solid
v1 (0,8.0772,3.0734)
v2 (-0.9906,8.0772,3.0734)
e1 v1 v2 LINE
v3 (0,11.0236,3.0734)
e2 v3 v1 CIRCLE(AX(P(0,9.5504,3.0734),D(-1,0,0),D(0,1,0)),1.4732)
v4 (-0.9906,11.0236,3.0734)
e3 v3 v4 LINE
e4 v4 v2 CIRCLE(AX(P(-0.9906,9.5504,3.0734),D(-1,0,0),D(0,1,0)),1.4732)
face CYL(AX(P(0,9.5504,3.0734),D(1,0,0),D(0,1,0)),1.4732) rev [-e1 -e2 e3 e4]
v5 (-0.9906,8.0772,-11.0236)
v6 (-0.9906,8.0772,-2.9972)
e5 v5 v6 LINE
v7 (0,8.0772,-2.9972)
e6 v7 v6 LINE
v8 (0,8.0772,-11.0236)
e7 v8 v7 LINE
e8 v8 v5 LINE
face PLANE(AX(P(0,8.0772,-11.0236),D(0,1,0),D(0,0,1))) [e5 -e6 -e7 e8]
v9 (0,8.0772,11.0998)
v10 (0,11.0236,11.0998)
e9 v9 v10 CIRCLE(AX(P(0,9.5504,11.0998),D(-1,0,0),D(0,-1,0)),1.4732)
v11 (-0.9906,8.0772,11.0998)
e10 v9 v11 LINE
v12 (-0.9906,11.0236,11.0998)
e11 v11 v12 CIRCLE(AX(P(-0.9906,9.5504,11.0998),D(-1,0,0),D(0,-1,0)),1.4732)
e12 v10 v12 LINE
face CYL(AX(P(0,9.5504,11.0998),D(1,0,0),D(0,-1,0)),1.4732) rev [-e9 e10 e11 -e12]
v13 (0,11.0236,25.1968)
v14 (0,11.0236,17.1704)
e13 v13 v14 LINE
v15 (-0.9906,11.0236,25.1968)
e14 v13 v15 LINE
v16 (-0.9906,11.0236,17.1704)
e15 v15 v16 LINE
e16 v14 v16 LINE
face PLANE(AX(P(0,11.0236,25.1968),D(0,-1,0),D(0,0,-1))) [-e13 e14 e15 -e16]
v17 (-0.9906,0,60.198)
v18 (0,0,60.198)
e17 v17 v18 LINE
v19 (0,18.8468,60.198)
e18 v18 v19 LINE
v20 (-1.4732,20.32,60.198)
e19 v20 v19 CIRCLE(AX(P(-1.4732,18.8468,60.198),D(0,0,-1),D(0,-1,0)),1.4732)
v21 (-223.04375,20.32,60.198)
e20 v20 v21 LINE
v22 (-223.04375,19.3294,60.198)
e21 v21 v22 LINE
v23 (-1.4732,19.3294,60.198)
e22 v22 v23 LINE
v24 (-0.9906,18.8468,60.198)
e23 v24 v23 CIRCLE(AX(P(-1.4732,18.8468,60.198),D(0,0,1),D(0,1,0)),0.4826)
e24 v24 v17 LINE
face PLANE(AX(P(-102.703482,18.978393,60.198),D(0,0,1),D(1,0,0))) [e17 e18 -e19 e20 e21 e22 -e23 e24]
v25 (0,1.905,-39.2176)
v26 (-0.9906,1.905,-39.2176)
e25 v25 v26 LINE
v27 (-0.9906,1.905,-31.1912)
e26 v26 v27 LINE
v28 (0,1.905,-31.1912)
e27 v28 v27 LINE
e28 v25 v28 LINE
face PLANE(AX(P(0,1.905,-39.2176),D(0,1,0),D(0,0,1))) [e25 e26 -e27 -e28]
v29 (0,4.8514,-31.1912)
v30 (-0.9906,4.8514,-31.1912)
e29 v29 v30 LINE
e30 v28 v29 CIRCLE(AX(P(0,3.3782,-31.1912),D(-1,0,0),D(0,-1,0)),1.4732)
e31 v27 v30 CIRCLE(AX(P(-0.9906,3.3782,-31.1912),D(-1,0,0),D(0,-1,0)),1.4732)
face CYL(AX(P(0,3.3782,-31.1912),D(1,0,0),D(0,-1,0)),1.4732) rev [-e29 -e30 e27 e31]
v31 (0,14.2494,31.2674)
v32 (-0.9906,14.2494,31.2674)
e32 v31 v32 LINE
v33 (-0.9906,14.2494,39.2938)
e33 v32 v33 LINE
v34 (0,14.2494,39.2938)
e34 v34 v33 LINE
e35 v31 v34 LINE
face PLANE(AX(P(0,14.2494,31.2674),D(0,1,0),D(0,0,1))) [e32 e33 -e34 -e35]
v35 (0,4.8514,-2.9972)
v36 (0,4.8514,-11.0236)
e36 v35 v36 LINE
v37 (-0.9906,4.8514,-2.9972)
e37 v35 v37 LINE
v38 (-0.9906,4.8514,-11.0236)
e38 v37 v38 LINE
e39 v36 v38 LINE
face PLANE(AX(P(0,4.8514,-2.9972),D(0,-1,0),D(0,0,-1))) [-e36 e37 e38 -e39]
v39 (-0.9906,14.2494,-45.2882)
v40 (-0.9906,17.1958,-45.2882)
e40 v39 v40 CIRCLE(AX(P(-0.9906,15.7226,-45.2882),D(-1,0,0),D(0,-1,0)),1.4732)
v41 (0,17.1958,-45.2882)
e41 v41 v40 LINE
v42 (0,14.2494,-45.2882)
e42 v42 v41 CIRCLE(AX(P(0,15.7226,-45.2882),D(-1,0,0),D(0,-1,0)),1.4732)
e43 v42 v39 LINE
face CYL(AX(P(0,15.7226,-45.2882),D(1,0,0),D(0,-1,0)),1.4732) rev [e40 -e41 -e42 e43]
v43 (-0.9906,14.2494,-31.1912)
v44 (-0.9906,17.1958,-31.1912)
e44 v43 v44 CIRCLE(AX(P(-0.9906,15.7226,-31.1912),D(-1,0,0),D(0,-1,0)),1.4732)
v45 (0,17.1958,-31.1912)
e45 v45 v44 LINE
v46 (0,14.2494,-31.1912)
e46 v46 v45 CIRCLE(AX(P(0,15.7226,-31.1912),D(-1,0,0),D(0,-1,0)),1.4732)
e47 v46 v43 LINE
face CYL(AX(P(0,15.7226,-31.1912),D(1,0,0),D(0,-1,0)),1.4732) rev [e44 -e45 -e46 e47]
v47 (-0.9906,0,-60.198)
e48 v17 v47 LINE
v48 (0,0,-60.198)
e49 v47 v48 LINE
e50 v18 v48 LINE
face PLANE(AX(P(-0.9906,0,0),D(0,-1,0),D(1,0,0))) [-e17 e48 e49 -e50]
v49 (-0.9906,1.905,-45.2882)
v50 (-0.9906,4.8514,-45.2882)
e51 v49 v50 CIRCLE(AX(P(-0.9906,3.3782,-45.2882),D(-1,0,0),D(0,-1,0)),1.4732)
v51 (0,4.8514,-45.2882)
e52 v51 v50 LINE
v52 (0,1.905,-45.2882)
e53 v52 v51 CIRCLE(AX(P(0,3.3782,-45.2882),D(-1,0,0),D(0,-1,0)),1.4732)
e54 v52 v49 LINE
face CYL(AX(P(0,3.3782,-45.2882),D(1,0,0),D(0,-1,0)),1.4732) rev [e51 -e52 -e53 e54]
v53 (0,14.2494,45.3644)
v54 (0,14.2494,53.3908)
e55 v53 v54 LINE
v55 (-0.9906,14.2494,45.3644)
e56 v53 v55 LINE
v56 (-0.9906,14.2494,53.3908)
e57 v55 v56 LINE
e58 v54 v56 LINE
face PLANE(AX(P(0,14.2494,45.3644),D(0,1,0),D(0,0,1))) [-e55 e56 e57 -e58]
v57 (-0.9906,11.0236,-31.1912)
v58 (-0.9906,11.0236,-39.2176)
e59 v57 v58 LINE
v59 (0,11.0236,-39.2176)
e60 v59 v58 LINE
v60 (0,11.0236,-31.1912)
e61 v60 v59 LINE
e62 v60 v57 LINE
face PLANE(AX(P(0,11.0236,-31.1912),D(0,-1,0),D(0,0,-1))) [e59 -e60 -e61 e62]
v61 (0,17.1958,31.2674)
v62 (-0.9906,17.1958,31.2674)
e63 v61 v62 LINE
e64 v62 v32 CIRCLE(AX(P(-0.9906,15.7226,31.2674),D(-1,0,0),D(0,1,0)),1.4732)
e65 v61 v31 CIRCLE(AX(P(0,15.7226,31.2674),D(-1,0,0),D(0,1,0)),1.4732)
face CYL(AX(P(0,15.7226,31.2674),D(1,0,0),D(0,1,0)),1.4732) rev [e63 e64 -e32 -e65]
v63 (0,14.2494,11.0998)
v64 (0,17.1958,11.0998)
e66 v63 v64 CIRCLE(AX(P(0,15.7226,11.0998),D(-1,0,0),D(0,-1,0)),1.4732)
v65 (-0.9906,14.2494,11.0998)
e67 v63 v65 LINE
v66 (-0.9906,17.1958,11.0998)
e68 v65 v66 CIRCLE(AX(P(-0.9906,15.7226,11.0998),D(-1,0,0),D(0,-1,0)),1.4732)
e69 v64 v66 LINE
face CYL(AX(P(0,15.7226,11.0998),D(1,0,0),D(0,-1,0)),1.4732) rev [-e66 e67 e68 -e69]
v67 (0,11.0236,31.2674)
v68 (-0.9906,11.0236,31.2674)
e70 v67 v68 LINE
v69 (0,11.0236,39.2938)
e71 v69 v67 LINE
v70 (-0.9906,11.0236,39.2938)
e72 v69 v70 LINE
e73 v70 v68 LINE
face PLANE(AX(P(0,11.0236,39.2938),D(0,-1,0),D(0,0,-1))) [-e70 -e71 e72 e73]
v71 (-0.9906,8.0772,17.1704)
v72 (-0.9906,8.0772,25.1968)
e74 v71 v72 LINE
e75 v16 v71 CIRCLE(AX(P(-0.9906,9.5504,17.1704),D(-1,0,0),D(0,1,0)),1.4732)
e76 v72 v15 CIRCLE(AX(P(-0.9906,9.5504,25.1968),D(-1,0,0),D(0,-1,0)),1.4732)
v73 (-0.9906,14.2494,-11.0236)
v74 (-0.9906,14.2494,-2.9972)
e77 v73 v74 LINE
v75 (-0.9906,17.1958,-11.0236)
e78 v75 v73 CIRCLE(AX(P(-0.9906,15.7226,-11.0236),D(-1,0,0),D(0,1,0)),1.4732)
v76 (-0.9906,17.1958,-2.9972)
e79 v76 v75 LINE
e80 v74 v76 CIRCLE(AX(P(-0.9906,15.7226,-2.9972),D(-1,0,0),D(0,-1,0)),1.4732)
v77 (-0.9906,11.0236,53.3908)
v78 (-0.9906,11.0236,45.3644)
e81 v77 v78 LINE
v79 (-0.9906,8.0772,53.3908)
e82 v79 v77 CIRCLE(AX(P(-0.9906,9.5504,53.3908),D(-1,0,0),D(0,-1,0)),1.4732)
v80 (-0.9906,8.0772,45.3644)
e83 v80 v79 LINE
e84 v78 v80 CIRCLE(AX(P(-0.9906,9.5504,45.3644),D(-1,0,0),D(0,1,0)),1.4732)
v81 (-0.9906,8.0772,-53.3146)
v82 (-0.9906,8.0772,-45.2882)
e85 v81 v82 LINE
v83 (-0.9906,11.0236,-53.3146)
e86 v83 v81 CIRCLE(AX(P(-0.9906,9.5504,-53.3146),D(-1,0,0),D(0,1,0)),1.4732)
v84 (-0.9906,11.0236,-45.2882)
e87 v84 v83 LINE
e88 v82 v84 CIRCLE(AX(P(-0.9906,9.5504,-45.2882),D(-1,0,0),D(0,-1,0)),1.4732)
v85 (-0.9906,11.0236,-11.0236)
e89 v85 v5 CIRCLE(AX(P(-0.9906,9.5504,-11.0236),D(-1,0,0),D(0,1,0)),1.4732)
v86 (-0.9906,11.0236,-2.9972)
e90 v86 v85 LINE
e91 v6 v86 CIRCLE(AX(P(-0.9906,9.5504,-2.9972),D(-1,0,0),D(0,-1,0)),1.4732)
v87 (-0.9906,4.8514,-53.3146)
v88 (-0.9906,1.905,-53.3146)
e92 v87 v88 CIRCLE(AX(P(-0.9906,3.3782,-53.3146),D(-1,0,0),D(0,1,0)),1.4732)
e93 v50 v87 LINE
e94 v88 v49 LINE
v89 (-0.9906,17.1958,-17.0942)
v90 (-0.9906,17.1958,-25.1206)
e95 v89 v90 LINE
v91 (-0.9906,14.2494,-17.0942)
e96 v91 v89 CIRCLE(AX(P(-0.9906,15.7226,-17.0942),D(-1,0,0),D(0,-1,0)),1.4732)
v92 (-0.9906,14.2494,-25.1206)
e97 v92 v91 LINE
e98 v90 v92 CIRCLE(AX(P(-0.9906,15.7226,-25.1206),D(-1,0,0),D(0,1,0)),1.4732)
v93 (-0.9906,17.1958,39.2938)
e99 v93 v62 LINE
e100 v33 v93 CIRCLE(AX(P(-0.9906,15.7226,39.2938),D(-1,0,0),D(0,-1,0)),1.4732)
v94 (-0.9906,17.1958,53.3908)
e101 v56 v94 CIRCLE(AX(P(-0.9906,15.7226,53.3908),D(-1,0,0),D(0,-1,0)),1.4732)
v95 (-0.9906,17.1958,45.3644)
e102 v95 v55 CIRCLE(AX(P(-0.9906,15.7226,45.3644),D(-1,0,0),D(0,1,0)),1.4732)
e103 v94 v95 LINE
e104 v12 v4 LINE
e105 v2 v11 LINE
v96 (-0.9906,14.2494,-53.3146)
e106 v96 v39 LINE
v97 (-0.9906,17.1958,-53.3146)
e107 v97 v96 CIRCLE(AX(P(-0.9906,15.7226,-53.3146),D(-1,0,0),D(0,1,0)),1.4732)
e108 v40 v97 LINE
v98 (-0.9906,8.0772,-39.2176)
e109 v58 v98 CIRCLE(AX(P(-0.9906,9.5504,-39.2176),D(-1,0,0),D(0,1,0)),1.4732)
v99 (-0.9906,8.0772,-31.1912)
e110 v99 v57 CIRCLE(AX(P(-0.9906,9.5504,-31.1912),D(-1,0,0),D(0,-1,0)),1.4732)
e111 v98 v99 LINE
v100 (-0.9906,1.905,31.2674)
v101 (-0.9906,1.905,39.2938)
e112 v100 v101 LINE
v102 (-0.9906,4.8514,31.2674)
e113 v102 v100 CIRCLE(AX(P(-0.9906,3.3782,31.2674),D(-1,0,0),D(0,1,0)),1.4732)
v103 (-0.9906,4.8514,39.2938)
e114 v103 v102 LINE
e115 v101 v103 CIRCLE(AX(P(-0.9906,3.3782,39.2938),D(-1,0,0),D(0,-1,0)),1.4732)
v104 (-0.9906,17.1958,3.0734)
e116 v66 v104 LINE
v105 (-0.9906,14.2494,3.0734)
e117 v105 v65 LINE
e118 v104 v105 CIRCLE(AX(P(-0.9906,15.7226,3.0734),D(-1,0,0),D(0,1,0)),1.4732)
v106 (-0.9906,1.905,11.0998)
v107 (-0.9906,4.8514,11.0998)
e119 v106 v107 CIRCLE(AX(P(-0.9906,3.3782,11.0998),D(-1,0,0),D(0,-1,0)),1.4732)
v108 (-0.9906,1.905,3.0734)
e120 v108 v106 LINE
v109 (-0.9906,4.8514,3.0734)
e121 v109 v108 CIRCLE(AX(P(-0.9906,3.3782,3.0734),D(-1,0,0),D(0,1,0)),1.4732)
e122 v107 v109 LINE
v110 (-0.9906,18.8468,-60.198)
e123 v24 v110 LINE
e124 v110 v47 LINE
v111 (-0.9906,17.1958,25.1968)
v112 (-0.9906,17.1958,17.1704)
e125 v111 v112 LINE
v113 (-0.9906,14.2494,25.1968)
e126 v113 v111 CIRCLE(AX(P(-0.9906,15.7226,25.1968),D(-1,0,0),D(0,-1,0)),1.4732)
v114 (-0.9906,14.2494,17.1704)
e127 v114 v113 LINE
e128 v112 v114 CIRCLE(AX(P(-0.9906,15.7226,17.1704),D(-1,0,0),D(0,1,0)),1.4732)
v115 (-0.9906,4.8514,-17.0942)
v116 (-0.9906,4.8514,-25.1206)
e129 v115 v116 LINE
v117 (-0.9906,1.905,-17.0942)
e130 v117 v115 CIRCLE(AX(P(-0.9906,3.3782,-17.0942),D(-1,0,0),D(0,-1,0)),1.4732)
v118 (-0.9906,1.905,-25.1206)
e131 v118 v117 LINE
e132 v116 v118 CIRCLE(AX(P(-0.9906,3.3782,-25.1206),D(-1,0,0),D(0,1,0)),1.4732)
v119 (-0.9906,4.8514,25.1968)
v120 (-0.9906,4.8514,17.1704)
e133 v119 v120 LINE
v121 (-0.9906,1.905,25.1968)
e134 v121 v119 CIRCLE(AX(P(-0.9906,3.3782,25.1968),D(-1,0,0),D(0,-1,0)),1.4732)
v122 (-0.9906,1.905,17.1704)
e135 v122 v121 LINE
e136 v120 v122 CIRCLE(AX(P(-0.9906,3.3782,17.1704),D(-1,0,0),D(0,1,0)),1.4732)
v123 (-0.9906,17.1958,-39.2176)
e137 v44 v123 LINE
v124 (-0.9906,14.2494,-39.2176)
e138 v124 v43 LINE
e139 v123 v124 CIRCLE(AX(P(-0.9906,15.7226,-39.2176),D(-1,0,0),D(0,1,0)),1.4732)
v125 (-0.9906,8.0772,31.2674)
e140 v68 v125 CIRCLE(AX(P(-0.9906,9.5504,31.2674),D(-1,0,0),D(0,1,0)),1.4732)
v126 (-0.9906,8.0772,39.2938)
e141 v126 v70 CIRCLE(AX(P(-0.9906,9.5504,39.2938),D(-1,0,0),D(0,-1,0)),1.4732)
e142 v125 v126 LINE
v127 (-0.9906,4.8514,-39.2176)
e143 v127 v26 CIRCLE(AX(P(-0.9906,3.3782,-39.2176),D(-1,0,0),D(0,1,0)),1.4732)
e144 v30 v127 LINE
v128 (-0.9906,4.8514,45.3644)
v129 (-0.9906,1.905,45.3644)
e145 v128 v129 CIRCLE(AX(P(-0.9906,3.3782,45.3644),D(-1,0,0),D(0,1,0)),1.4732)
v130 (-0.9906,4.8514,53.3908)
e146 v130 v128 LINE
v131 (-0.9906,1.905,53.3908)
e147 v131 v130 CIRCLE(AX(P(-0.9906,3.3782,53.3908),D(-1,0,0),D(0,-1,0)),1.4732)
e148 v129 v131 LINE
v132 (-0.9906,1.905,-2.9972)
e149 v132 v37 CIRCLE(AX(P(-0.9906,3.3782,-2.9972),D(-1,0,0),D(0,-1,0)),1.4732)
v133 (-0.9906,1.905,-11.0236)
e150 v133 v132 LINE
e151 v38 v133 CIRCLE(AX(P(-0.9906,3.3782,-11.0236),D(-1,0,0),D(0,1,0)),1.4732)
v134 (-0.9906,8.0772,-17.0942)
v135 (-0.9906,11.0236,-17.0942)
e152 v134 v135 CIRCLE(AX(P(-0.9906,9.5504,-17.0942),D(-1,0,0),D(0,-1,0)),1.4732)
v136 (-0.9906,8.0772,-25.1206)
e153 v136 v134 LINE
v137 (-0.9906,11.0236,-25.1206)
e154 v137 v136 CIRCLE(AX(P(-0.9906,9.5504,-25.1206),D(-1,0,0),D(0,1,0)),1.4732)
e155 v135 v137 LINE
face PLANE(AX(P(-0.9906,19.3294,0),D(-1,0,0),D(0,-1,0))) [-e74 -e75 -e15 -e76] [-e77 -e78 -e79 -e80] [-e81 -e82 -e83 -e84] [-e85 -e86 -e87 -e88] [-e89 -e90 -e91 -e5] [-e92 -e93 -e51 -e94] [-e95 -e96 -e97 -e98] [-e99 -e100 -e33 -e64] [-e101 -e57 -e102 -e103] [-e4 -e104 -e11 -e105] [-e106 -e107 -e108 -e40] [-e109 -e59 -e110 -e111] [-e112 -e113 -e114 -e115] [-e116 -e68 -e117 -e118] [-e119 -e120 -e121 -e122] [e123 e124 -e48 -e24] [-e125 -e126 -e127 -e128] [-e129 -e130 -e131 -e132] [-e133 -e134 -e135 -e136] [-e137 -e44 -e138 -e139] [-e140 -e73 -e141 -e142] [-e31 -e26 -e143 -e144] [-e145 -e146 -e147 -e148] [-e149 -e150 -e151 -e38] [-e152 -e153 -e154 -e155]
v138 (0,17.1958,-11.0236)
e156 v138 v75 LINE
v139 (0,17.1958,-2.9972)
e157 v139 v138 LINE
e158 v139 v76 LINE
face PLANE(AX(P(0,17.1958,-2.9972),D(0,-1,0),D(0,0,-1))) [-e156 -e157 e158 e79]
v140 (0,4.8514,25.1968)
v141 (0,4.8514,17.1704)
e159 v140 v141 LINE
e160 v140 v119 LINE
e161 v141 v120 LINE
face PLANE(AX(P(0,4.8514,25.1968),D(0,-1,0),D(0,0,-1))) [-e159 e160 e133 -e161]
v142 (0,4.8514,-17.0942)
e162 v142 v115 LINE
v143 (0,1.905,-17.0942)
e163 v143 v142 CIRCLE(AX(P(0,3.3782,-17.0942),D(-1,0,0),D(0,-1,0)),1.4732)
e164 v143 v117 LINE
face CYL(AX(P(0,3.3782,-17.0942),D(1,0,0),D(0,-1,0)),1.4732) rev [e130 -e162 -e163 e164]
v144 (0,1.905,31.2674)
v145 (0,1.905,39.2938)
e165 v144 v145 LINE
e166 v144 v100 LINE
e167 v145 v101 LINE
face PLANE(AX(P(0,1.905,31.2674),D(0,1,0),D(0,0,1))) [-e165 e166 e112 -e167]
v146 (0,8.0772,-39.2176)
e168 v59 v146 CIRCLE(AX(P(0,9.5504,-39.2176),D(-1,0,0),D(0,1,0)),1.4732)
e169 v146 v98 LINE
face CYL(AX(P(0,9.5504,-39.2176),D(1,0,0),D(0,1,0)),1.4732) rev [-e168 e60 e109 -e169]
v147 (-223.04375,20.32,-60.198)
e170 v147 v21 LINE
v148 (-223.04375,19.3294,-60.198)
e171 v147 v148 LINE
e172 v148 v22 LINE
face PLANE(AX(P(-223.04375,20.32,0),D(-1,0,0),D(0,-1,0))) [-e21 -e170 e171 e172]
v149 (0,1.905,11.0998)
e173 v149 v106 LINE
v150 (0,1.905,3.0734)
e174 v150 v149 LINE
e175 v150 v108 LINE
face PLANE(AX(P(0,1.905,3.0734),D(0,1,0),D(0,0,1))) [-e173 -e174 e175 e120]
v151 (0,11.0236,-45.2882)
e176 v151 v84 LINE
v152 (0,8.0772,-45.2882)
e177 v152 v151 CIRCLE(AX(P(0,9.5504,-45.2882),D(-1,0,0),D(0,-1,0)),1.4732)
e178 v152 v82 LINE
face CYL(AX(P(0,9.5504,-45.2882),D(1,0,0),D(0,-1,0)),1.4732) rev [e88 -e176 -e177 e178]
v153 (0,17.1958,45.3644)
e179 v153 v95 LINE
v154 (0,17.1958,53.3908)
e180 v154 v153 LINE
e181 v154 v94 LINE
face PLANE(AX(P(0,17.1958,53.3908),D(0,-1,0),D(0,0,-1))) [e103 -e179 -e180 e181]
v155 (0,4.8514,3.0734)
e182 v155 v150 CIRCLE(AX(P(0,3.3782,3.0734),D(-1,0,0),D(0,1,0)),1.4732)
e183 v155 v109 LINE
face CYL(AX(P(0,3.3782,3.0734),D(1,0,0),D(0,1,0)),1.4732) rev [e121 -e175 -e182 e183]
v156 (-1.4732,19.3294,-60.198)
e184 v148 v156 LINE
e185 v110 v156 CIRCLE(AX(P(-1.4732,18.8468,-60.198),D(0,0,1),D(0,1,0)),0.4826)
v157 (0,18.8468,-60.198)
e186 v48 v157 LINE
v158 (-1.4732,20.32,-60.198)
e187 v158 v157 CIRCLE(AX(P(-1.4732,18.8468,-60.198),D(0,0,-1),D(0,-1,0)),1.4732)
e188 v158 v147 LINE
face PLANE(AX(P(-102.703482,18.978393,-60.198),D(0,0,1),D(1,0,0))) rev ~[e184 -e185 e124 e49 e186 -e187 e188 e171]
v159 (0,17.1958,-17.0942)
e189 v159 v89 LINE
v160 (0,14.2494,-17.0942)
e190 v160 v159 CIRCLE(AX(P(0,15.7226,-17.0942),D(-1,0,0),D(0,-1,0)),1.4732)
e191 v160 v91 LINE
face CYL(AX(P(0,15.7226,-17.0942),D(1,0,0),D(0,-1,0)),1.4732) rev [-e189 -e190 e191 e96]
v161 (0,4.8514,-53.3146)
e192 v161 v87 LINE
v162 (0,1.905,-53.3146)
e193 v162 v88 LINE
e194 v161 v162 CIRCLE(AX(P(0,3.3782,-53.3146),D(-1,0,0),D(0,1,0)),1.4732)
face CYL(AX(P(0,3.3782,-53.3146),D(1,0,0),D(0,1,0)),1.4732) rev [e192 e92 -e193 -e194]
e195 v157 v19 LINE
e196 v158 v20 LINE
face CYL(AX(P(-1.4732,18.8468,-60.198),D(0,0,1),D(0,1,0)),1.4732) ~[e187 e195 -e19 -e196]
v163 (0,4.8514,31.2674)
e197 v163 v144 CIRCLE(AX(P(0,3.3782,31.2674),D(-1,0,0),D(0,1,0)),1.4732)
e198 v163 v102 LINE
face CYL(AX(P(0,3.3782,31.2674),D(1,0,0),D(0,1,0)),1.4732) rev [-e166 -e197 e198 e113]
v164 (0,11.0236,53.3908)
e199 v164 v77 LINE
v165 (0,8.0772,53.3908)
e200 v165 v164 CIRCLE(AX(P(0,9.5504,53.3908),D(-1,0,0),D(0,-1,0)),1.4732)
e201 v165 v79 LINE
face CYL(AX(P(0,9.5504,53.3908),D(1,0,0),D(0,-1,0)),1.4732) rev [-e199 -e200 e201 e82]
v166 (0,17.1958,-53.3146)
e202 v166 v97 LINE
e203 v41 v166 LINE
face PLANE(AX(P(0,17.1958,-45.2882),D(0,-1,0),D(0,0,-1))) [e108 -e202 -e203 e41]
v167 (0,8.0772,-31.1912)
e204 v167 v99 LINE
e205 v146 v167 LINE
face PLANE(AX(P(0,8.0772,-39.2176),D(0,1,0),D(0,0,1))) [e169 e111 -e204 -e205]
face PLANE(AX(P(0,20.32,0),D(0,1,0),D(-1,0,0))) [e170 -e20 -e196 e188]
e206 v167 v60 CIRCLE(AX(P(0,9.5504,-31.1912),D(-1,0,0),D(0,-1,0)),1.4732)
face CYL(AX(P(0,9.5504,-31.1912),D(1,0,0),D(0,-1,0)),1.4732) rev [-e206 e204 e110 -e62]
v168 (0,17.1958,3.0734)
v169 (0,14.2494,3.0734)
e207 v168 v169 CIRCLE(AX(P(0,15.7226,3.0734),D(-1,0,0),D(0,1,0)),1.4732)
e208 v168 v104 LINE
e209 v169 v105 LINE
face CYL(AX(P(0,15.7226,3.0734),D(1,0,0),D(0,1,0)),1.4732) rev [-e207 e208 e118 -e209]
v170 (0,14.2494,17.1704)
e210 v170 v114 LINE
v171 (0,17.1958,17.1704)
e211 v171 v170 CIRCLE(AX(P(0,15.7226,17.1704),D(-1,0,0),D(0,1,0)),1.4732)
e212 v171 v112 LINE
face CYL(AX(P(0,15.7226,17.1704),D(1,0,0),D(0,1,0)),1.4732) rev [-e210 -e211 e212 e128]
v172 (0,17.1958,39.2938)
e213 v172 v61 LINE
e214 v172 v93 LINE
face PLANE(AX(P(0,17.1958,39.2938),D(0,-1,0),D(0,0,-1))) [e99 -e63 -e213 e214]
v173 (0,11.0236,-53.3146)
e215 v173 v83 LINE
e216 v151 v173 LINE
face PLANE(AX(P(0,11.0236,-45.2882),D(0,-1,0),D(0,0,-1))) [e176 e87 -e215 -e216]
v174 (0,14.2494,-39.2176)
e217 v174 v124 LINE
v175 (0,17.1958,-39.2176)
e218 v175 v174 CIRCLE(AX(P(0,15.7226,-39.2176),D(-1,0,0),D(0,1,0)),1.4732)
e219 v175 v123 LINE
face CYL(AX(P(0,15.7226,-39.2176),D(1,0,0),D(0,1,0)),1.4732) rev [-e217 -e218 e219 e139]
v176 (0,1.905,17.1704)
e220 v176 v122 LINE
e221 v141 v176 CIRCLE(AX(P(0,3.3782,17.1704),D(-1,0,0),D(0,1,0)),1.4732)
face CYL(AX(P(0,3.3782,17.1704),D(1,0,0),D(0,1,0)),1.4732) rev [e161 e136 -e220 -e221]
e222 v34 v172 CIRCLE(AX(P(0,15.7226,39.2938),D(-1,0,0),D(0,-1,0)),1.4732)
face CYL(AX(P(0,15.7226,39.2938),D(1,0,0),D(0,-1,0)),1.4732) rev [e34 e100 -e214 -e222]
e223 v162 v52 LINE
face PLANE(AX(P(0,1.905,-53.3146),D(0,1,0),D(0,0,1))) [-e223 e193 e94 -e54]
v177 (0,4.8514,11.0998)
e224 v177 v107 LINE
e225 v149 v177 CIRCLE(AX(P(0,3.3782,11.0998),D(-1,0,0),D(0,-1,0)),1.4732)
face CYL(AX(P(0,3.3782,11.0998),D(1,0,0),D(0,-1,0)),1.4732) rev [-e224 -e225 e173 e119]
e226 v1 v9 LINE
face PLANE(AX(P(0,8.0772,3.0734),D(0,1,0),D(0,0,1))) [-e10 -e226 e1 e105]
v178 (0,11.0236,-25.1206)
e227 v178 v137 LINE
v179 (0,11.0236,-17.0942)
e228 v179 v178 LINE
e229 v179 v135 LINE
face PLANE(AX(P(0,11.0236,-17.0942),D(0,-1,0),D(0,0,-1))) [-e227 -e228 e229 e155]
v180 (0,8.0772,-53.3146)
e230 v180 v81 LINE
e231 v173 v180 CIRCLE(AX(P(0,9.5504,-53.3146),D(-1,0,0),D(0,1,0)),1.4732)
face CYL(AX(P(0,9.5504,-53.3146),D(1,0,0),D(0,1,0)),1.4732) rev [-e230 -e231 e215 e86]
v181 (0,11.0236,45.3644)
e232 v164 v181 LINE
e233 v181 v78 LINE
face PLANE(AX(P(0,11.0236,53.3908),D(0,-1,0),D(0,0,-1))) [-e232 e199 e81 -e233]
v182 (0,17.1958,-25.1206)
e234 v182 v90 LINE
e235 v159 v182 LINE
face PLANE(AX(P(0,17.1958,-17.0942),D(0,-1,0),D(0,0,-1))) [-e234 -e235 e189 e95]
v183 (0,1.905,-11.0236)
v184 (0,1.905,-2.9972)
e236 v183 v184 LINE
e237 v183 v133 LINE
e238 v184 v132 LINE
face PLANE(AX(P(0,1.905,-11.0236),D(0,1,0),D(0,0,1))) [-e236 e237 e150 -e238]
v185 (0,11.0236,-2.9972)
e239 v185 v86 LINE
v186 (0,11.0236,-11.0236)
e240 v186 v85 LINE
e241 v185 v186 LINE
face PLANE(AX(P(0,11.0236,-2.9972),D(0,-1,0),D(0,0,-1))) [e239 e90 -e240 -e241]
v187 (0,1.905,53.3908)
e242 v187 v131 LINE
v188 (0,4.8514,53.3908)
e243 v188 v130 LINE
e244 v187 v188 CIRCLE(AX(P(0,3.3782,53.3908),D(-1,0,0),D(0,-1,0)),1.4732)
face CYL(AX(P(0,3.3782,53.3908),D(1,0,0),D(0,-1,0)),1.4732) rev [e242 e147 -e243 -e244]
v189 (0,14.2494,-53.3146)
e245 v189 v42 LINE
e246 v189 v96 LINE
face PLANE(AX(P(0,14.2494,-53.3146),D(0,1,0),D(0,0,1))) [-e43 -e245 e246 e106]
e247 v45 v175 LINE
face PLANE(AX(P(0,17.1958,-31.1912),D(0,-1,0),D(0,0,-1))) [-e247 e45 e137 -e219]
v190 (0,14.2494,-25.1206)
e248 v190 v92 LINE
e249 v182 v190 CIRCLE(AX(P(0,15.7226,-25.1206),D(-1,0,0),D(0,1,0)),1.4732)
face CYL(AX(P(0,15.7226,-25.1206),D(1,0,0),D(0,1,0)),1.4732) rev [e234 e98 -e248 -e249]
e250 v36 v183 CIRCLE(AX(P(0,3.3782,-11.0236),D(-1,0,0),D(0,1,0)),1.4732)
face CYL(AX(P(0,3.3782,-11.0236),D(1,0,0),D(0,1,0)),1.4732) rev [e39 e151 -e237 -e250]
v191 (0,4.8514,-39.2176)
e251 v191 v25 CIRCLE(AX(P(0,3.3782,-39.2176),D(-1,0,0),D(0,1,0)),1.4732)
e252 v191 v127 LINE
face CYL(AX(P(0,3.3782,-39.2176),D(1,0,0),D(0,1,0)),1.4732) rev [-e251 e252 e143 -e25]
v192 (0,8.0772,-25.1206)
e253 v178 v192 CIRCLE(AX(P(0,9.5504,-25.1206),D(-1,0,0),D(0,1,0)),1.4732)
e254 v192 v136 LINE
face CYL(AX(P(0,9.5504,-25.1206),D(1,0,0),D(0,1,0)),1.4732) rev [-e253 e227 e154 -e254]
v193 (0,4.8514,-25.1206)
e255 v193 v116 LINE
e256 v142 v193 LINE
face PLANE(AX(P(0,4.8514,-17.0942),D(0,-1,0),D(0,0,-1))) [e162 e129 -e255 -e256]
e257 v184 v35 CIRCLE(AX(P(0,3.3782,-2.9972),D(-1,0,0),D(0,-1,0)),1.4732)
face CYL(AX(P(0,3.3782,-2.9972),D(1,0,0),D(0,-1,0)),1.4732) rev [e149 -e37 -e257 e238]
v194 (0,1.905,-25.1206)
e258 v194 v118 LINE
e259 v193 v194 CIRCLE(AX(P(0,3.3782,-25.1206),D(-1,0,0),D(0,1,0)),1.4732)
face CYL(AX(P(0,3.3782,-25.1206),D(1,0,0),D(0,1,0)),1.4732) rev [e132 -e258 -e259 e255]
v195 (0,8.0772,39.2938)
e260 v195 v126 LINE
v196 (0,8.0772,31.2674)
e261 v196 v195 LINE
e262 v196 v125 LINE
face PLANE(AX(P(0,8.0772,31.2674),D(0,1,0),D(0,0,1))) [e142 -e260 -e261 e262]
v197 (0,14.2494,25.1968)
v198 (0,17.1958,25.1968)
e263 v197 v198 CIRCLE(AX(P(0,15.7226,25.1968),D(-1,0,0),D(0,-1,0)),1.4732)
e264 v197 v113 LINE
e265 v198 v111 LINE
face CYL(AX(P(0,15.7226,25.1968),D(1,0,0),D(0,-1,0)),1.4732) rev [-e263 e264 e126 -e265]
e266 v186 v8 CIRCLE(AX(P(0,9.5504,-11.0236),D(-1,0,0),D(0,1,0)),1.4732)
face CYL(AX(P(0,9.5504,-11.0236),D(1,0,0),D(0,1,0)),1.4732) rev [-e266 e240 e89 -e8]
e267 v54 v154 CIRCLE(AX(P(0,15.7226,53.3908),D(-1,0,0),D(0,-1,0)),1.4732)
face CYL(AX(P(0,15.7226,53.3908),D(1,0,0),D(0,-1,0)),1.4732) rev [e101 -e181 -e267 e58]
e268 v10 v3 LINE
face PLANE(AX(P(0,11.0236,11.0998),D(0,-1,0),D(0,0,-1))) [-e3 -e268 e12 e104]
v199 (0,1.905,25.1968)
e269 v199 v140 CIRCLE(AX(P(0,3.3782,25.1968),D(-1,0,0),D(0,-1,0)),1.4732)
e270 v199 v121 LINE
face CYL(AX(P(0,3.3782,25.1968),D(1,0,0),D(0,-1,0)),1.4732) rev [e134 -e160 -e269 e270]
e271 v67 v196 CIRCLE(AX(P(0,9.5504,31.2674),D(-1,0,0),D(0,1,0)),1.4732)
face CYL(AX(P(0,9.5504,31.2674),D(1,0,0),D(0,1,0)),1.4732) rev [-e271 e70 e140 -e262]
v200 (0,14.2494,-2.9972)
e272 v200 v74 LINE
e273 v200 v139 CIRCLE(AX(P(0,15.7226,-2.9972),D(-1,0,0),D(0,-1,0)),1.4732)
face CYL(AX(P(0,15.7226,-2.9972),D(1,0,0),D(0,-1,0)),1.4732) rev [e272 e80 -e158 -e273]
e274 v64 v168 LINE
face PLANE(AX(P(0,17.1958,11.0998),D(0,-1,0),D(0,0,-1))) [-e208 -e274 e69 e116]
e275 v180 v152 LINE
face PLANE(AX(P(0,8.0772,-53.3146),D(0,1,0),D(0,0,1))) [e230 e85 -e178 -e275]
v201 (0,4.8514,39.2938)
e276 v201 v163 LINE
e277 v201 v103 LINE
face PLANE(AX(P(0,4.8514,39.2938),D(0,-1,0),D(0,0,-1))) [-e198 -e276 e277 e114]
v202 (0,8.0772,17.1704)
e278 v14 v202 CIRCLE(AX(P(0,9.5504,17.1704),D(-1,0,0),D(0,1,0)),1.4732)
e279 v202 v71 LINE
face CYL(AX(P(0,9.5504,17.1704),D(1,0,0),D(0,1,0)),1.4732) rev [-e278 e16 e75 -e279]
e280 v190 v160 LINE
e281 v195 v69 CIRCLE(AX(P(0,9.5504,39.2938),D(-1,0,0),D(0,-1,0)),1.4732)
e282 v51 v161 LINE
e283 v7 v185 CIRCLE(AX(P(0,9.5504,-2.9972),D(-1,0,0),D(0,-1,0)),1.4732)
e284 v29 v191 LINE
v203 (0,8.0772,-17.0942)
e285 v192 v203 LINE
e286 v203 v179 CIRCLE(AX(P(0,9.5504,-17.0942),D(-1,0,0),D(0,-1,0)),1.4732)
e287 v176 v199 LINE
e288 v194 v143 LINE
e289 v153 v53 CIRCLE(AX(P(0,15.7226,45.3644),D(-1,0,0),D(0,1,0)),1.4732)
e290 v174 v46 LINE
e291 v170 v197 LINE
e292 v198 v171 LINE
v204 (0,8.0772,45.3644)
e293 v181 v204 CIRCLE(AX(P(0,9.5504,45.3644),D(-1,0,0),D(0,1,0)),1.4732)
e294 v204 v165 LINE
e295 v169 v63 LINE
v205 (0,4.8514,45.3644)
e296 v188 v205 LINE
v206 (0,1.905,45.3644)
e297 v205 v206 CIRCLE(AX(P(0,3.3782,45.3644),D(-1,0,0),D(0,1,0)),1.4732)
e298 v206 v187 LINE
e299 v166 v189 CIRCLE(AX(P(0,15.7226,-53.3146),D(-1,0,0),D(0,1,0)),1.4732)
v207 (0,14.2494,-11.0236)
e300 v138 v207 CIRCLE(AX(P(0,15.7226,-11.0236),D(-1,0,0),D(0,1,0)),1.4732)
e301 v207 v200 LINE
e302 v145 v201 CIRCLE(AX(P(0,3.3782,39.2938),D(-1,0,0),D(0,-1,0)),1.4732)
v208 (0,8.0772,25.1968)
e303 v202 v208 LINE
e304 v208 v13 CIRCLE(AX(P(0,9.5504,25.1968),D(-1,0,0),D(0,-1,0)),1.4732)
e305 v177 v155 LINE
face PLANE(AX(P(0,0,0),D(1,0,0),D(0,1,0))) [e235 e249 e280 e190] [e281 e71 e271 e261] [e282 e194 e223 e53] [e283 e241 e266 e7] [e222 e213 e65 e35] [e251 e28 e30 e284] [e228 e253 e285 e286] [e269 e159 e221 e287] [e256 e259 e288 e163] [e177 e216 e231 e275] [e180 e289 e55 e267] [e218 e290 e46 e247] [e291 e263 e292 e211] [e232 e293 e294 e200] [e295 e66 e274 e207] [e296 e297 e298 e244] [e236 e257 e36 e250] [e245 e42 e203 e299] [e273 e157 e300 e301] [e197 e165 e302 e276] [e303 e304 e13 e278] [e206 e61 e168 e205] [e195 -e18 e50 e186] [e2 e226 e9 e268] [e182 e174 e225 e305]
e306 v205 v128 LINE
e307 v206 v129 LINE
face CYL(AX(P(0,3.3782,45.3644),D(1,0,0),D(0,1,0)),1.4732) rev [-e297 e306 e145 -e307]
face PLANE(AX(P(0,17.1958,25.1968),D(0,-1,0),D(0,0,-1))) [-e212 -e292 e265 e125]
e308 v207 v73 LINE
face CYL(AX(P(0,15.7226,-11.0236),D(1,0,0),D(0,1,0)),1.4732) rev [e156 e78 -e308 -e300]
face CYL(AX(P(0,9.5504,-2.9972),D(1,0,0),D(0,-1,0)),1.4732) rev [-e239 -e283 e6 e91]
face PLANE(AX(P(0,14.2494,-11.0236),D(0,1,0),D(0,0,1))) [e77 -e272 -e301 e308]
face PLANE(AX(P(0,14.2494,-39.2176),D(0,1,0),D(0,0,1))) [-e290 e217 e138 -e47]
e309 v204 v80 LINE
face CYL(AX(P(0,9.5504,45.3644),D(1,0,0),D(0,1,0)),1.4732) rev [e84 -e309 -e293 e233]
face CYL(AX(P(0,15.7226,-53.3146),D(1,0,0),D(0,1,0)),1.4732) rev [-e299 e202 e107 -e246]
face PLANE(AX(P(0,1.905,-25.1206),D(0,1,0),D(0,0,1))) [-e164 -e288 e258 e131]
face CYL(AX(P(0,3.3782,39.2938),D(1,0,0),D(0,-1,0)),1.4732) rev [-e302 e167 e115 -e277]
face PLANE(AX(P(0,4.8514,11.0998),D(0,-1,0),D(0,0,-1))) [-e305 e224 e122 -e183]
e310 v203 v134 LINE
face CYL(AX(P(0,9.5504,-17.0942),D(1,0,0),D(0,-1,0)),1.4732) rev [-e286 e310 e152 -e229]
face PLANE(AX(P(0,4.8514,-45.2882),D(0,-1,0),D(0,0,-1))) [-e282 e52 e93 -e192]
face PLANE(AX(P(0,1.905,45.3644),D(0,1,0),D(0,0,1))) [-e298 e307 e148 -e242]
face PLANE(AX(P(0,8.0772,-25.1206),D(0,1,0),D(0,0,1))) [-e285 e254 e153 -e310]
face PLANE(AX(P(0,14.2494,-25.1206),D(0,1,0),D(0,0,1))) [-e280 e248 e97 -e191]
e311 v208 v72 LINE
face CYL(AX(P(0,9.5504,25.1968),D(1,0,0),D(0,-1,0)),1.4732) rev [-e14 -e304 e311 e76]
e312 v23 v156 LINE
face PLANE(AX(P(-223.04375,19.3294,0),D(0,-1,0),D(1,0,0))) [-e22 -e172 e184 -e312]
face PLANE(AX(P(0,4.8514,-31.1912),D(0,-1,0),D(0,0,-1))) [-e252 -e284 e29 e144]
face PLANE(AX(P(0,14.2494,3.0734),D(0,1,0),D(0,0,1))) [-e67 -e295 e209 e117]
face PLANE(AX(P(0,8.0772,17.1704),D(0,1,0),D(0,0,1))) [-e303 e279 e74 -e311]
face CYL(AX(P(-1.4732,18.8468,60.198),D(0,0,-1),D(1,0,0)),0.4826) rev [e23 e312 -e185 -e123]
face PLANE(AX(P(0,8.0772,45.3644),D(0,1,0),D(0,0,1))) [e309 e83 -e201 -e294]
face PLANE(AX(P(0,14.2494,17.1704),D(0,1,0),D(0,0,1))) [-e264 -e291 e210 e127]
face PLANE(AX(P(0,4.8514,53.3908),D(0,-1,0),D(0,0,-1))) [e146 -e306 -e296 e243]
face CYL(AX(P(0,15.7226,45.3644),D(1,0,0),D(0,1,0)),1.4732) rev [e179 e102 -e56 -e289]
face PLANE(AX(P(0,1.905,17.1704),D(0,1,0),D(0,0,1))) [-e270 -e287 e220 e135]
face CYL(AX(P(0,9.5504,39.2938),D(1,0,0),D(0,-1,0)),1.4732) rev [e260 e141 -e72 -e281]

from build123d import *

# Parameters (mm, degrees)
BOSS_EXTRUDE1_DEPTH  = 60.198
FILLET1_R            = 0.4826
FILLET2_R            = 1.4732
CUT_EXTRUDE1_DEPTH   = 0.9906
LPATTERN1_COUNT      = 3
LPATTERN1_PITCH      = 6.1722
LPATTERN1_COUNT_DIR2 = 8
LPATTERN1_PITCH_DIR2 = 14.097


with BuildPart() as part:
    # Sketch1 → Boss-Extrude1 (new body, symmetric)
    with BuildSketch(Plane.XY):
        Polygon((0, 0), (0, 20.32), (-223.04375, 20.32), (-223.04375, 19.3294), (-0.9906, 19.3294), (-0.9906, 0), align=None)
    extrude(amount=BOSS_EXTRUDE1_DEPTH, both=True)

    # Fillet1
    fillet1_edges = [part.edges().sort_by_distance(p)[0] for p in [
        (-0.9906, 19.3294, 0),
    ]]
    fillet(fillet1_edges, radius=FILLET1_R)

    # Fillet2
    fillet2_edges = [part.edges().sort_by_distance(p)[0] for p in [
        (0, 20.32, 0),
    ]]
    fillet(fillet2_edges, radius=FILLET2_R)

    # Sketch2 → Cut-Extrude1 (cut)
    with BuildSketch(Plane(origin=(0, 0, 0), x_dir=(0, 0, -1), z_dir=(1, 0, 0))):
        with BuildLine():
            Line((-53.3908, 4.8514), (-45.3644, 4.8514))
            ThreePointArc((-45.3644, 4.8514), (-43.8912, 3.3782), (-45.3644, 1.905))
            Line((-45.3644, 1.905), (-53.3908, 1.905))
            ThreePointArc((-53.3908, 1.905), (-54.864, 3.3782), (-53.3908, 4.8514))
        make_face()
    cut_extrude1 = extrude(amount=-CUT_EXTRUDE1_DEPTH, mode=Mode.SUBTRACT)

    # LPattern1: Cut-Extrude1 3 × 8
    with Locations(*[(0, i * LPATTERN1_PITCH, -j * LPATTERN1_PITCH_DIR2) for i in range(LPATTERN1_COUNT) for j in range(LPATTERN1_COUNT_DIR2) if (i, j) != (0, 0)]):
        add(cut_extrude1, mode=Mode.SUBTRACT)


solid = part.part
